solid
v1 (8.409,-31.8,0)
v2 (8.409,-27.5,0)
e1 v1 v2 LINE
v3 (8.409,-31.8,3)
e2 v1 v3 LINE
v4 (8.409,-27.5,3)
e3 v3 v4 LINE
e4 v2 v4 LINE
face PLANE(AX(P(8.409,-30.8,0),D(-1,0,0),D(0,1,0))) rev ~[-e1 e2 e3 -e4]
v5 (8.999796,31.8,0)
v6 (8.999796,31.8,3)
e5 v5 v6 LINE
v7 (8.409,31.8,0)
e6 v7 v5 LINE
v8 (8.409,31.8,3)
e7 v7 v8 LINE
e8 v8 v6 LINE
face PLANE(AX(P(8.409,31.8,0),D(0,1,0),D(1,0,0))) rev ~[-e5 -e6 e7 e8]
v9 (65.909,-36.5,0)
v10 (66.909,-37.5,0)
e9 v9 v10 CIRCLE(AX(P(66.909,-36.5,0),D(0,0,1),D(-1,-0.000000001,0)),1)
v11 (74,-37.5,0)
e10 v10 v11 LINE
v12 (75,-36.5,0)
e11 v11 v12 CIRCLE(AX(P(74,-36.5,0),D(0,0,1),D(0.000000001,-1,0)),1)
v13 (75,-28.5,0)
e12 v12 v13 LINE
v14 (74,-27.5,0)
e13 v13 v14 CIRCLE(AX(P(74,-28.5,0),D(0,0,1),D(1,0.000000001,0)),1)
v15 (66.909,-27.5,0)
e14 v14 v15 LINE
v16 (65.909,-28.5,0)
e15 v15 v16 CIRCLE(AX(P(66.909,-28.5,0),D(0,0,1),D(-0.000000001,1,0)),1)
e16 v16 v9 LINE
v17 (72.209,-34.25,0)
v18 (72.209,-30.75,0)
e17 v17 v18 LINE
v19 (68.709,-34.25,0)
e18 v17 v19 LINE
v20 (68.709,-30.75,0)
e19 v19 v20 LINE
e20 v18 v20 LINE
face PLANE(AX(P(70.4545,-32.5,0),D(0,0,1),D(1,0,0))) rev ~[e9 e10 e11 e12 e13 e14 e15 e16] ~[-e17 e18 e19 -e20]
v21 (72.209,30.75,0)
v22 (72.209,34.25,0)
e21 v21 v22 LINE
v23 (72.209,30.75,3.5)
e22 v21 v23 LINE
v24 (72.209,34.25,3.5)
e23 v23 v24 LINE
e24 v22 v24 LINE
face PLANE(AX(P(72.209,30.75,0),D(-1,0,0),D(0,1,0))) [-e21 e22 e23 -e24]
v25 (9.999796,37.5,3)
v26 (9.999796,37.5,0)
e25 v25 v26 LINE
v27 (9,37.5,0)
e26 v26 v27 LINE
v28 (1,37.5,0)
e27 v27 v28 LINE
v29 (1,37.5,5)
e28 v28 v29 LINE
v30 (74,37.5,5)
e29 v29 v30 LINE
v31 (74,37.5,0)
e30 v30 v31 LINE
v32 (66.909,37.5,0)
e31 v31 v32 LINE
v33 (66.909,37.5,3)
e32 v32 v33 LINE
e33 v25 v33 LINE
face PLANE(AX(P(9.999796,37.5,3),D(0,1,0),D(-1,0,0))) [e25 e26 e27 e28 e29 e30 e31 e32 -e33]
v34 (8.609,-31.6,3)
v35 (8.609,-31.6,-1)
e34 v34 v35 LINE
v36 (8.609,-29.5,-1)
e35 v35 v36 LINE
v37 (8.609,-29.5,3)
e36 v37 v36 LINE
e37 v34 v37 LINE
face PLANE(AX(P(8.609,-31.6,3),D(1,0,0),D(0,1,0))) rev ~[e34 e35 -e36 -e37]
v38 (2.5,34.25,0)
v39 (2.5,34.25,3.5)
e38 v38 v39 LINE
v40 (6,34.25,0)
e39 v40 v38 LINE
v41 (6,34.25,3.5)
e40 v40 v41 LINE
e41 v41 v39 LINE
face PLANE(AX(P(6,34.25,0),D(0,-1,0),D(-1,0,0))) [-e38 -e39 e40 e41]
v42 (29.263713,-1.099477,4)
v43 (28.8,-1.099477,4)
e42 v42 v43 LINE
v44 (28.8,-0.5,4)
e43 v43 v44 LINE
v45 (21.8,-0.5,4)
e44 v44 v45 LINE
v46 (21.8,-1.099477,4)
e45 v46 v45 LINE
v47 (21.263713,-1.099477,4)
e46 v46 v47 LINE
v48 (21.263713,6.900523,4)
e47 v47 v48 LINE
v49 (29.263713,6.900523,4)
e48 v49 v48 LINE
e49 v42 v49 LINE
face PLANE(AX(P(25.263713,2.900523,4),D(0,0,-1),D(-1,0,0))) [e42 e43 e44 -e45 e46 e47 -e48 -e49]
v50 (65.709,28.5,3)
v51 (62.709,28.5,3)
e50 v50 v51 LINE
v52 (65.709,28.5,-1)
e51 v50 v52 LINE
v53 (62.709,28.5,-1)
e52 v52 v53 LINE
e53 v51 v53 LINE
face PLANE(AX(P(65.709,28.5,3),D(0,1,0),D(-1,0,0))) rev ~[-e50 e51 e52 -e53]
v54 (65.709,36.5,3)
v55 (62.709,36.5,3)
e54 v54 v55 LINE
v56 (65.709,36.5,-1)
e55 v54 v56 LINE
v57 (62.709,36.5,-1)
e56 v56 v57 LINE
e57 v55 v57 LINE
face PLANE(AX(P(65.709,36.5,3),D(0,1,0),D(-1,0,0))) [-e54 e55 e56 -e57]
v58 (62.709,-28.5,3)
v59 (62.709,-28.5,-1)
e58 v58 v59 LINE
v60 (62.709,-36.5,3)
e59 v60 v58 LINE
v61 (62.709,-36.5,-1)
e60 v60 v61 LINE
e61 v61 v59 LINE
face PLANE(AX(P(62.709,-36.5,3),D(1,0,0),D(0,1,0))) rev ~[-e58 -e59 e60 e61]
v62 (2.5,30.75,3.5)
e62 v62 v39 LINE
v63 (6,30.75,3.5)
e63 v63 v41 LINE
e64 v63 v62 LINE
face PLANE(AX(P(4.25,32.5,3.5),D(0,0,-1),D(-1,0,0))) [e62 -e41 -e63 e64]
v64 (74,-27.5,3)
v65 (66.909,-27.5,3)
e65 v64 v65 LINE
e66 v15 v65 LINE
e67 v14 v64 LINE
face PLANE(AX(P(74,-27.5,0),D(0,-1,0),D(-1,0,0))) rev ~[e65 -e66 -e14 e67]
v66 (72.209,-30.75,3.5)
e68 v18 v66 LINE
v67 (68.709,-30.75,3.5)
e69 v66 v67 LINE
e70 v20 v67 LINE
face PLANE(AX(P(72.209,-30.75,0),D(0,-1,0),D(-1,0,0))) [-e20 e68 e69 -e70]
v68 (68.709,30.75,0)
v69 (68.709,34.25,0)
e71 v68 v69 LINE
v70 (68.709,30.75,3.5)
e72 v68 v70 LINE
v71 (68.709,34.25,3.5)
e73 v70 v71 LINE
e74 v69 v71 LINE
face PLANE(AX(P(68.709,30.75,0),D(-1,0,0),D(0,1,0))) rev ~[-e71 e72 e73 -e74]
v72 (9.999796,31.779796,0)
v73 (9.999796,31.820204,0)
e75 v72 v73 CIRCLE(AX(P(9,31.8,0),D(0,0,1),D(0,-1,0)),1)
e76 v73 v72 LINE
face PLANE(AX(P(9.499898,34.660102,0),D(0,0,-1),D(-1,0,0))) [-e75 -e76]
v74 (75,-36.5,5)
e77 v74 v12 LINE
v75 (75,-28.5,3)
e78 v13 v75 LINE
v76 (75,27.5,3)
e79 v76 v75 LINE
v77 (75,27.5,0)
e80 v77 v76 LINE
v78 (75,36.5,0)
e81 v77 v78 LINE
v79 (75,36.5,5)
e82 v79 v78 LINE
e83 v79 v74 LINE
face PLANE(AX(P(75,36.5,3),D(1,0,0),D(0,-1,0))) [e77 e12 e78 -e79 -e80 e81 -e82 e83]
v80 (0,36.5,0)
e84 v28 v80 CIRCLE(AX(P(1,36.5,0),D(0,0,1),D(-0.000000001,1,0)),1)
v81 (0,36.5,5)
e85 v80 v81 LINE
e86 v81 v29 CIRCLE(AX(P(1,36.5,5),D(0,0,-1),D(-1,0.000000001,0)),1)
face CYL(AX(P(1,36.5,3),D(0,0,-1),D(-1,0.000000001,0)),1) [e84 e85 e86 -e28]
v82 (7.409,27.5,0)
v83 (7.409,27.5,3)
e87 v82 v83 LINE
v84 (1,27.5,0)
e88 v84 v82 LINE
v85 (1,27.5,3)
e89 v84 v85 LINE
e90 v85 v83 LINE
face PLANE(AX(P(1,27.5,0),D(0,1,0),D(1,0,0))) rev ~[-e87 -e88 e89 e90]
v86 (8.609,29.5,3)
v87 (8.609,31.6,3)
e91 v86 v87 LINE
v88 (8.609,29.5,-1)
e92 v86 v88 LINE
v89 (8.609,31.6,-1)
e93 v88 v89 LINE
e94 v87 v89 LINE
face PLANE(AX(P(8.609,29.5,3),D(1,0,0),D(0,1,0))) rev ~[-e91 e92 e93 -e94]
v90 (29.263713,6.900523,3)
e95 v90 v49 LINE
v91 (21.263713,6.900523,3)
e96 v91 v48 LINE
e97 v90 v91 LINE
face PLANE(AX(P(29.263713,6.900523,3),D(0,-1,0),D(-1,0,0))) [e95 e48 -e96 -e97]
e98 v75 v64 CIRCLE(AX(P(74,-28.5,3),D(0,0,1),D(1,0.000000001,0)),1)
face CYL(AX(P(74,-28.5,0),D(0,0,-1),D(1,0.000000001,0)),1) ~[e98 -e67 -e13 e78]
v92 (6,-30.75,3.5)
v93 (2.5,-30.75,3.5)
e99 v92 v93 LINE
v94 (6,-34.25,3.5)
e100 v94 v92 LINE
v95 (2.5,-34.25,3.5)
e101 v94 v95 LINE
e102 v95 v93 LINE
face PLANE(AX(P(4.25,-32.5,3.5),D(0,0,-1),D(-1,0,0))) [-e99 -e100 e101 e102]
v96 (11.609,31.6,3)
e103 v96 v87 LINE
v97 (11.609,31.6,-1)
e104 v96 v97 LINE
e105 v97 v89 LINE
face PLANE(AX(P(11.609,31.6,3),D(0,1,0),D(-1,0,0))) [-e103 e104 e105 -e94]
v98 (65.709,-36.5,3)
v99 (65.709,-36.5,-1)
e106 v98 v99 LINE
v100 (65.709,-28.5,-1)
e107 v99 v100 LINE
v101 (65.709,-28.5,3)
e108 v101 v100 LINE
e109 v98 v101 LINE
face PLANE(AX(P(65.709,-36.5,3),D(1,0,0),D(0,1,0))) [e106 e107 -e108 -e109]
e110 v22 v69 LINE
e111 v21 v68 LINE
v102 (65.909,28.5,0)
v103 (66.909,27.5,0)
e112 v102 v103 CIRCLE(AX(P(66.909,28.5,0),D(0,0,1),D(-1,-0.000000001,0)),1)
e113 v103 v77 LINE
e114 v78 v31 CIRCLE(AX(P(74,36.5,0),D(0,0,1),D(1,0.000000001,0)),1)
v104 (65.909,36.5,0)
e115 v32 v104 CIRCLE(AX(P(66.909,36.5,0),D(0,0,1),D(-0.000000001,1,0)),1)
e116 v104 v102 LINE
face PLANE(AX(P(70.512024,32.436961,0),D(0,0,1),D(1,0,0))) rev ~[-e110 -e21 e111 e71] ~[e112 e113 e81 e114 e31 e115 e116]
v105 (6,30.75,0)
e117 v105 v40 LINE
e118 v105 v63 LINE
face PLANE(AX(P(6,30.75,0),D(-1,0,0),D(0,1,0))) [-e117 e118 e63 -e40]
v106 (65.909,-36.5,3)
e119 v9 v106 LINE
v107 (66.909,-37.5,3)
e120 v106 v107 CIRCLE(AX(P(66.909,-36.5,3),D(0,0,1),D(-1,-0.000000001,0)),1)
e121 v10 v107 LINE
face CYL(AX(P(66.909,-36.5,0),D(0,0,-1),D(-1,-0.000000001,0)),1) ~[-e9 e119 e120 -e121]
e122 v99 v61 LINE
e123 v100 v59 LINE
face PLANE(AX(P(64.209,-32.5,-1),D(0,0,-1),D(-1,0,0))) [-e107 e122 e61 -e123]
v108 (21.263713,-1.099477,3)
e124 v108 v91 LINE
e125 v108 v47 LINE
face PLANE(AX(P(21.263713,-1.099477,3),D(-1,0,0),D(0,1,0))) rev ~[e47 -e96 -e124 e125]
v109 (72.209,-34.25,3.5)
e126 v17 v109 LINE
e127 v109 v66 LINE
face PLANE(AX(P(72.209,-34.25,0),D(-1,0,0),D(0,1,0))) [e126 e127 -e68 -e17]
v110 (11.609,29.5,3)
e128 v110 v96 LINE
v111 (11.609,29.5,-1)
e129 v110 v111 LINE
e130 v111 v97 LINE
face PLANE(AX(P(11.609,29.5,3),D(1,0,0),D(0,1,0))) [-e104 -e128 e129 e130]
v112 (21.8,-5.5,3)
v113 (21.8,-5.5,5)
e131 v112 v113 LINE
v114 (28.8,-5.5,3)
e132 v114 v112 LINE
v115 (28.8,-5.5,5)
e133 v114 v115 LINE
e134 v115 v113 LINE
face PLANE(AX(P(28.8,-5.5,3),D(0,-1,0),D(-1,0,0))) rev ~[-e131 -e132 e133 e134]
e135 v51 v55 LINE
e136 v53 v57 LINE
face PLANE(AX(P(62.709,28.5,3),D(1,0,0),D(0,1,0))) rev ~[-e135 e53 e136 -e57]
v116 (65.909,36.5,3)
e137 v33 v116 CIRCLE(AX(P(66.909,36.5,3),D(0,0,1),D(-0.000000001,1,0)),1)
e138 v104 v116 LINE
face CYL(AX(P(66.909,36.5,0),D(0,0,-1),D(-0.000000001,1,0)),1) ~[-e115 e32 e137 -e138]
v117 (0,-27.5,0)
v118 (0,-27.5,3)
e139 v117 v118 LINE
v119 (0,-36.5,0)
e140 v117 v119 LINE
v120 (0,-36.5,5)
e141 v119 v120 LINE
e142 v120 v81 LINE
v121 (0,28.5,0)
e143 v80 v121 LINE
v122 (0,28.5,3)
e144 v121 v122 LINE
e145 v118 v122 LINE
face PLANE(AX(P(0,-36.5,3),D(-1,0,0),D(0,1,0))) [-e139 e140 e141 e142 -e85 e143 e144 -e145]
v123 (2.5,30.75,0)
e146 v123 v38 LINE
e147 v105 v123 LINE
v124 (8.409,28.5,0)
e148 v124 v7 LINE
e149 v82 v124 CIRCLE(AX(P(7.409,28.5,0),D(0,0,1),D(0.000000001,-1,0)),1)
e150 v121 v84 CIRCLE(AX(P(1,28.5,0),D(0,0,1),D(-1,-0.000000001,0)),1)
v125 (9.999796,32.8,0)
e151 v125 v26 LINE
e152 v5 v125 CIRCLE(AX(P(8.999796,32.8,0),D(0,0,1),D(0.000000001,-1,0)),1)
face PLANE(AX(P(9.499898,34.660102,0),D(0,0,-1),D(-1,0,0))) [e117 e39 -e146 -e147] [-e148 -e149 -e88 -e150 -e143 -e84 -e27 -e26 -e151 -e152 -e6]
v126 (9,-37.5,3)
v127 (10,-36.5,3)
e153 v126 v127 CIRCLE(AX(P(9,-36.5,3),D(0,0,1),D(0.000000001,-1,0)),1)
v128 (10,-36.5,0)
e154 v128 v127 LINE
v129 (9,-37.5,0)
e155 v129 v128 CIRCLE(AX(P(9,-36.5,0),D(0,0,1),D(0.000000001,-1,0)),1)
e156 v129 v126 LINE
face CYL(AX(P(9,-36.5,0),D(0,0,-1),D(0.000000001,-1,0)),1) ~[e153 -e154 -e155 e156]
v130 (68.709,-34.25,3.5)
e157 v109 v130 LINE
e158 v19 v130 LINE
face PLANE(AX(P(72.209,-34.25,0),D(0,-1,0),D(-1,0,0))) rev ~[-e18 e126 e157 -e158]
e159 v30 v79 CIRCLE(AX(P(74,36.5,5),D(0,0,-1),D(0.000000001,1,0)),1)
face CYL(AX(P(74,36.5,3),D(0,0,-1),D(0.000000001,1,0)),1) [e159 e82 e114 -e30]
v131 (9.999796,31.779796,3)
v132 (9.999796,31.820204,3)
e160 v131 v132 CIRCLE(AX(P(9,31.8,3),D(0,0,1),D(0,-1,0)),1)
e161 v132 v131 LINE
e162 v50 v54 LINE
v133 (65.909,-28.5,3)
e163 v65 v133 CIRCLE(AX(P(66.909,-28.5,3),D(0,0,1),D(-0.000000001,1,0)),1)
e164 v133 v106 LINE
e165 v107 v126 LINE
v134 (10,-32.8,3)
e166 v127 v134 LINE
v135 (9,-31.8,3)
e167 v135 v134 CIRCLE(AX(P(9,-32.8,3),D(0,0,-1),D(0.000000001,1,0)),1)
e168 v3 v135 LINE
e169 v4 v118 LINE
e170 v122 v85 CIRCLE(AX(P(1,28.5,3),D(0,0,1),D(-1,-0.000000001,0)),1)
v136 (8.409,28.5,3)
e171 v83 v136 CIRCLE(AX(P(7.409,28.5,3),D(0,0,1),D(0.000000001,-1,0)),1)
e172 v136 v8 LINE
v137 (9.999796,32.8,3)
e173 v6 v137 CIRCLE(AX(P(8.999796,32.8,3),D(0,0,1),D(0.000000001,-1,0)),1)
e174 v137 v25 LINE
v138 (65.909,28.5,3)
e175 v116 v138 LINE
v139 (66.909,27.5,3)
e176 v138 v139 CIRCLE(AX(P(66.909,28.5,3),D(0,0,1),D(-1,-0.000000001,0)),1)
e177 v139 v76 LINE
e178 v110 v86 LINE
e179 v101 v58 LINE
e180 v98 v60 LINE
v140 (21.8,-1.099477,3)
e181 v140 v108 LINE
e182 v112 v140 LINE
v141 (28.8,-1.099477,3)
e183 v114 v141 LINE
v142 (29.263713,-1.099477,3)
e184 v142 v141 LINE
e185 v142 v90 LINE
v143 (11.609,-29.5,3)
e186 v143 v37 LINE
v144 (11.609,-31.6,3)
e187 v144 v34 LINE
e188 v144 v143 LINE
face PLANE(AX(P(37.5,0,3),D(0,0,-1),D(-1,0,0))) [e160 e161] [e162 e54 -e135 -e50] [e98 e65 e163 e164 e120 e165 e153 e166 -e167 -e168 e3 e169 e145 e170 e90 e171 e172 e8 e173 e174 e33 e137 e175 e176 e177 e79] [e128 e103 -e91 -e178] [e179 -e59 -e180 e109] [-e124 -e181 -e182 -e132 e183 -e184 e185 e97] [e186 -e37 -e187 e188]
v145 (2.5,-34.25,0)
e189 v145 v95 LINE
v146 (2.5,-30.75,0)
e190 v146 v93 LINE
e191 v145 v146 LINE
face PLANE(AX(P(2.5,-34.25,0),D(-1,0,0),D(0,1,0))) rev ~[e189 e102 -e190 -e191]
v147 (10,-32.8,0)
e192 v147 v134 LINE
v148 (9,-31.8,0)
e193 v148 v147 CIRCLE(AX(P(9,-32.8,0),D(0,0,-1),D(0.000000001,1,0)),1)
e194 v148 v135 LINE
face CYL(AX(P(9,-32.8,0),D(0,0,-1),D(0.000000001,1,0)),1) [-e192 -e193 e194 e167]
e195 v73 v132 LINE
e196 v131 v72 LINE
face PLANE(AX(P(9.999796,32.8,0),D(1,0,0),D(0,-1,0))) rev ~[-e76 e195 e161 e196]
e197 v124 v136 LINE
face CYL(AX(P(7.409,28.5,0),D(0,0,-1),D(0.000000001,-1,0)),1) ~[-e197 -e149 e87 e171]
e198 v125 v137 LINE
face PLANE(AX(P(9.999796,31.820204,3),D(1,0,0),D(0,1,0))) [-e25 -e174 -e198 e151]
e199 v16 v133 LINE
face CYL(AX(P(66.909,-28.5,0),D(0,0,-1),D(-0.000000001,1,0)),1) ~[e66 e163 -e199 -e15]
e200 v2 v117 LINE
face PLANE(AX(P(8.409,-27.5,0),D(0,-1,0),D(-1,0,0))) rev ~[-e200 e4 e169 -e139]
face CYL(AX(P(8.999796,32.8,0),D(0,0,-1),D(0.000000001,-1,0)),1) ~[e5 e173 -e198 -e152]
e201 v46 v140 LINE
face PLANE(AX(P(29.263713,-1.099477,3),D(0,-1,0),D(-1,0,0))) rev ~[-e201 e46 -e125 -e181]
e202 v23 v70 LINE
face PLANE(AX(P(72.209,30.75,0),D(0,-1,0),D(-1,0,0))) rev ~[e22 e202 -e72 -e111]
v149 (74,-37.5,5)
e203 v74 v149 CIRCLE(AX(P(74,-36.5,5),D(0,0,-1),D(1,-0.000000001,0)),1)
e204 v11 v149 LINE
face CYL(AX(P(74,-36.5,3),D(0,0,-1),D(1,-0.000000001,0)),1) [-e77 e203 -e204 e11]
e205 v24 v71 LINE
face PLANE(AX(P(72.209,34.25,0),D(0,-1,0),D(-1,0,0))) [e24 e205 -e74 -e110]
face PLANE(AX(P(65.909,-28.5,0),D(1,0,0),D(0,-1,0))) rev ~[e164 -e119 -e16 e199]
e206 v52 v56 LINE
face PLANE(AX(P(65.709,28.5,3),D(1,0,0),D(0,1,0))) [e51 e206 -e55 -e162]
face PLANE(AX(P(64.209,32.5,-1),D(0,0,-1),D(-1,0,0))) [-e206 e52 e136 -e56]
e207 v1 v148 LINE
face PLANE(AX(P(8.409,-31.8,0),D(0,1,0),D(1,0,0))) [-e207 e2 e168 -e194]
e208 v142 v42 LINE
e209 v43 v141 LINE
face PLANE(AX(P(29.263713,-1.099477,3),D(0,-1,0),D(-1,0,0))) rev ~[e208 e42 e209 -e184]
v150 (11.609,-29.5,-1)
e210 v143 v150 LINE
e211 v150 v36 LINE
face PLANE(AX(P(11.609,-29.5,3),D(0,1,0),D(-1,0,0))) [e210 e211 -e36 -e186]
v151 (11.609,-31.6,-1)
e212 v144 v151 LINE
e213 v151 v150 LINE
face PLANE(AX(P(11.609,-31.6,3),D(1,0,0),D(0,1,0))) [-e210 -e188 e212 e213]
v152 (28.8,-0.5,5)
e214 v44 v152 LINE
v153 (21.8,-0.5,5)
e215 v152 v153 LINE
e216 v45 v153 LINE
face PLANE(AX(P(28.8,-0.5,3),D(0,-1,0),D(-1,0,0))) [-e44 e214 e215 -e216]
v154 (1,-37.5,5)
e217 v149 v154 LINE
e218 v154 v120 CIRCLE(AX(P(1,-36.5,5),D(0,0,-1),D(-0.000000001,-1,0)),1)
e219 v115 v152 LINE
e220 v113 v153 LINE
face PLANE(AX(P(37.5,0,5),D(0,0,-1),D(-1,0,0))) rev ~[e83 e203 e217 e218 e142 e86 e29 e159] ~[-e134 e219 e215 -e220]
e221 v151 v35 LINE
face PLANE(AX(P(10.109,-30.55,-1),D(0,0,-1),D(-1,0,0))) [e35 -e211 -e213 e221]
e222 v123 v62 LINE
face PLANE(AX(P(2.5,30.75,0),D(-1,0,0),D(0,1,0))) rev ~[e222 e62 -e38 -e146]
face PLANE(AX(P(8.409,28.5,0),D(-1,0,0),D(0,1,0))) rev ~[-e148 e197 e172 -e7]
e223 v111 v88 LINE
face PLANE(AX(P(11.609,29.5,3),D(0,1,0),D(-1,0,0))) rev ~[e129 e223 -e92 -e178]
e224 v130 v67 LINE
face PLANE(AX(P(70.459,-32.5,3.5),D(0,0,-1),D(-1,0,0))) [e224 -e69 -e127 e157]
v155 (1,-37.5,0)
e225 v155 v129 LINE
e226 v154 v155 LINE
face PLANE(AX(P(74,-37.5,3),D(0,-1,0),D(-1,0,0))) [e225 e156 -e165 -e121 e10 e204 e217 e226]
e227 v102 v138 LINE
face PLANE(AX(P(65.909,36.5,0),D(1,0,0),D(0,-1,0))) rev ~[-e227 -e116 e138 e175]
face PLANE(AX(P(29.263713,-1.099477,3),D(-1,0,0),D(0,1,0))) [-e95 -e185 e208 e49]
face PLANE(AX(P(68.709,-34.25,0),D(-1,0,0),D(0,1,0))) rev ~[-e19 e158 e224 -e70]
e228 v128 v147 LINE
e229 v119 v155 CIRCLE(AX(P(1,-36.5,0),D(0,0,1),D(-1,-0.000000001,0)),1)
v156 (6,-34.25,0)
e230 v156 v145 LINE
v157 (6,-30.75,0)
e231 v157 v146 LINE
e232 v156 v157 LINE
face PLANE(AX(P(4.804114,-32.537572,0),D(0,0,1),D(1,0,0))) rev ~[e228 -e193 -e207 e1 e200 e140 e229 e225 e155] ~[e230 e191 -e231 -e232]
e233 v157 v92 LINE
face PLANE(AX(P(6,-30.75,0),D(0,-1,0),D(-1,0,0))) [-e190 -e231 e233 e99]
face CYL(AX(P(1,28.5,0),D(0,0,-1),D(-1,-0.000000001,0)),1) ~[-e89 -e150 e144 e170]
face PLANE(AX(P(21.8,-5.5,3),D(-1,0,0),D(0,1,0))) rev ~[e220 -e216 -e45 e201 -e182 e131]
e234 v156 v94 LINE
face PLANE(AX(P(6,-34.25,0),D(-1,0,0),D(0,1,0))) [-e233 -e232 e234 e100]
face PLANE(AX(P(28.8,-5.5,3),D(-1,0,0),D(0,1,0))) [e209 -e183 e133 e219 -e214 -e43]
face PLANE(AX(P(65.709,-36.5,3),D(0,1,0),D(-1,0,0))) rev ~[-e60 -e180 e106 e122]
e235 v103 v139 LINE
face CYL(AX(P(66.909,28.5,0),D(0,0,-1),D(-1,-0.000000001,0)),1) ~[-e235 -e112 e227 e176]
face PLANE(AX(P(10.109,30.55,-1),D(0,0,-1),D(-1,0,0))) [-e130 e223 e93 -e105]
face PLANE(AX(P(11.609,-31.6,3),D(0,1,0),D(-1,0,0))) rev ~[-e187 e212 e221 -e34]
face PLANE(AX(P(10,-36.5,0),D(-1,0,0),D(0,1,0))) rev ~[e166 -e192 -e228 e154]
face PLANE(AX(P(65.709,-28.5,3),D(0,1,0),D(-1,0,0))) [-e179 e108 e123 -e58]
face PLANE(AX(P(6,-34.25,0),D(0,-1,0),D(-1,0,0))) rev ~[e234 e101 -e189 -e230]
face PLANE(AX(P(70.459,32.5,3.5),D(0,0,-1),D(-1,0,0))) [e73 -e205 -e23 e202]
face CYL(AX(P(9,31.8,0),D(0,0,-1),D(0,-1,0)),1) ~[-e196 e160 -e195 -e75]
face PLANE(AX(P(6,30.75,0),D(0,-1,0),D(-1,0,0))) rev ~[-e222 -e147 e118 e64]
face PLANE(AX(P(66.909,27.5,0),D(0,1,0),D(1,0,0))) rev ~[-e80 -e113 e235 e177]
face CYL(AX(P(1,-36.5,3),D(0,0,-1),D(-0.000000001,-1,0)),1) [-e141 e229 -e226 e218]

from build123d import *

# Parameters (mm, degrees)
RESSALTO_EXTRUS_O1_DEPTH   = 3
RESSALTO_EXTRUS_O1_2_DEPTH = 3
RESSALTO_EXTRUS_O1_3_DEPTH = 3
RESSALTO_EXTRUS_O1_4_DEPTH = 3
RESSALTO_EXTRUS_O2_DEPTH   = 2
ESBO_O13_W                 = 0.999795876
ESBO_O13_H                 = 5.679795897
RESSALTO_EXTRUS_O3_DEPTH   = 3
CORTE_EXTRUS_O4_DEPTH      = 3
ESBO_O22_W                 = 3
ESBO_O22_H                 = 2.1
ESBO_O22_H_2               = 8
RESSALTO_EXTRUS_O5_DEPTH   = 4
ESBO_O15_W                 = 3.5
ESBO_O15_H                 = 3.5
CORTE_EXTRUS_O1_DEPTH      = 3.5
ESBO_O16_W                 = 8
ESBO_O16_H                 = 8
CORTE_EXTRUS_O2_DEPTH      = 1
ESBO_O18_W                 = 7
ESBO_O18_H                 = 5
CORTE_EXTRUS_O3_DEPTH      = 10


with BuildPart() as part:
    # Esboço1 → Ressalto-extrusão1 (new body)
    with BuildSketch(Plane.XY):
        with BuildLine():
            Line((10, -36.5), (10, -31.8))
            ThreePointArc((10, -31.8), (9.707106781, -31.092893219), (9, -30.8))
            Line((9, -30.8), (8.409000397, -30.8))
            Line((8.409000397, -30.8), (8.409000397, -27.5))
            Line((8.409000397, -27.5), (0, -27.5))
            Line((0, -27.5), (0, -36.5))
            ThreePointArc((0, -36.5), (0.292893219, -37.207106781), (1, -37.5))
            Line((1, -37.5), (9, -37.5))
            ThreePointArc((9, -37.5), (9.707106781, -37.207106781), (10, -36.5))
        make_face()
    extrude(amount=RESSALTO_EXTRUS_O1_DEPTH)



with BuildPart() as body_2:
    # Esboço1 → Ressalto-extrus_o1 2 (new body)
    with BuildSketch(Plane.XY):
        with BuildLine():
            Line((75, -36.5), (75, -28.5))
            ThreePointArc((75, -28.5), (74.707106781, -27.792893219), (74, -27.5))
            Line((74, -27.5), (66.909000397, -27.5))
            ThreePointArc((66.909000397, -27.5), (66.201893616, -27.792893219), (65.909000397, -28.5))
            Line((65.909000397, -28.5), (65.909000397, -36.5))
            ThreePointArc((65.909000397, -36.5), (66.201893616, -37.207106781), (66.909000397, -37.5))
            Line((66.909000397, -37.5), (74, -37.5))
            ThreePointArc((74, -37.5), (74.707106781, -37.207106781), (75, -36.5))
        make_face()
    extrude(amount=RESSALTO_EXTRUS_O1_2_DEPTH)


with BuildPart() as body_3:
    # Esboço1 → Ressalto-extrus_o1 3 (new body)
    with BuildSketch(Plane.XY):
        with BuildLine():
            Line((65.909000397, 36.5), (65.909000397, 28.5))
            ThreePointArc((65.909000397, 28.5), (66.201893616, 27.792893219), (66.909000397, 27.5))
            Line((66.909000397, 27.5), (75, 27.5))
            Line((75, 27.5), (75, 36.5))
            ThreePointArc((75, 36.5), (74.707106781, 37.207106781), (74, 37.5))
            Line((74, 37.5), (66.909000397, 37.5))
            ThreePointArc((66.909000397, 37.5), (66.201893616, 37.207106781), (65.909000397, 36.5))
        make_face()
    extrude(amount=RESSALTO_EXTRUS_O1_3_DEPTH)


with BuildPart() as body_4:
    # Esboço1 → Ressalto-extrus_o1 4 (new body)
    with BuildSketch(Plane.XY):
        with BuildLine():
            Line((9, 37.5), (1, 37.5))
            ThreePointArc((1, 37.5), (0.292893219, 37.207106781), (0, 36.5))
            Line((0, 36.5), (0, 28.5))
            ThreePointArc((0, 28.5), (0.292893219, 27.792893219), (1, 27.5))
            Line((1, 27.5), (7.409000397, 27.5))
            ThreePointArc((7.409000397, 27.5), (8.116107178, 27.792893219), (8.409000397, 28.5))
            Line((8.409000397, 28.5), (8.409000397, 30.8))
            Line((8.409000397, 30.8), (9, 30.8))
            ThreePointArc((9, 30.8), (9.71421429, 31.100072898), (9.999795876, 31.820204103))
            Line((9.999795876, 31.820204103), (9, 31.820204103))
            Line((9, 31.820204103), (9, 37.5))
        make_face()
    extrude(amount=RESSALTO_EXTRUS_O1_4_DEPTH)


with BuildPart() as part_1:
    add(part.part)

    add(body_2.part)  # Ressalto-extrusão2 merges body 2

    add(body_3.part)  # Ressalto-extrusão2 merges body 3

    add(body_4.part)  # Ressalto-extrusão2 merges body 4
    # Esboço2 → Ressalto-extrusão2 (add)
    with BuildSketch(Plane.XY.offset(3)):
        with BuildLine():
            Line((1, 37.5), (74, 37.5))
            ThreePointArc((74, 37.5), (74.707106781, 37.207106781), (75, 36.5))
            Line((75, 36.5), (75, -36.5))
            ThreePointArc((75, -36.5), (74.707106781, -37.207106781), (74, -37.5))
            Line((74, -37.5), (1, -37.5))
            ThreePointArc((1, -37.5), (0.292893219, -37.207106781), (0, -36.5))
            Line((0, -36.5), (0, 36.5))
            ThreePointArc((0, 36.5), (0.292893219, 37.207106781), (1, 37.5))
        make_face()
    extrude(amount=RESSALTO_EXTRUS_O2_DEPTH)

    # Esboço13 → Ressalto-extrusão3 (add)
    with BuildSketch(Plane(origin=(0, 0, 3), x_dir=(-1, 0, 0), z_dir=(0, 0, -1))):
        with Locations((-9.499897938, 34.660102052)):
            Rectangle(ESBO_O13_W, ESBO_O13_H)
    extrude(amount=RESSALTO_EXTRUS_O3_DEPTH)

    # Esboço20 → Corte-extrusão4 (cut)
    with BuildSketch(Plane(origin=(0, 0, 0), x_dir=(-1, 0, 0), z_dir=(0, 0, -1))):
        with BuildLine():
            Line((-8.409000397, 31.8), (-8.999795876, 31.8))
            ThreePointArc((-8.999795876, 31.8), (-9.706902657, 32.092893219), (-9.999795876, 32.8))
            Line((-9.999795876, 32.8), (-9.999795876, 30.8))
            Line((-9.999795876, 30.8), (-8.409000397, 30.8))
            Line((-8.409000397, 30.8), (-8.409000397, 31.8))
        make_face()
        with BuildLine():
            Line((-8.409000397, -30.8), (-8.409000397, -31.8))
            Line((-8.409000397, -31.8), (-9, -31.8))
            ThreePointArc((-9, -31.8), (-9.707106781, -32.092893219), (-10, -32.8))
            Line((-10, -32.8), (-10, -30.8))
            Line((-10, -30.8), (-8.409000397, -30.8))
        make_face()
    extrude(amount=-CORTE_EXTRUS_O4_DEPTH, mode=Mode.SUBTRACT)

    # Esboço22 → Ressalto-extrusão5 (add)
    with BuildSketch(Plane(origin=(0, 0, 3), x_dir=(-1, 0, 0), z_dir=(0, 0, -1))):
        with Locations((-10.109000397, 30.55)):
            Rectangle(ESBO_O22_W, ESBO_O22_H)
        with Locations((-10.109000397, -30.55)):
            Rectangle(ESBO_O22_W, ESBO_O22_H)
        with Locations((-64.209000397, 32.5)):
            Rectangle(ESBO_O22_W, ESBO_O22_H_2)
        with Locations((-64.209000397, -32.5)):
            Rectangle(ESBO_O22_W, ESBO_O22_H_2)
    extrude(amount=RESSALTO_EXTRUS_O5_DEPTH)

    # Esboço15 → Corte-extrusão1 (cut)
    with BuildSketch(Plane(origin=(0, 0, 0), x_dir=(-1, 0, 0), z_dir=(0, 0, -1))):
        with Locations((-4.25, -32.5)):
            Rectangle(ESBO_O15_W, ESBO_O15_H)
        with Locations((-4.25, 32.5)):
            Rectangle(ESBO_O15_W, ESBO_O15_H)
        with Locations((-70.459000397, 32.5)):
            Rectangle(ESBO_O15_W, ESBO_O15_H)
        with Locations((-70.459000397, -32.5)):
            Rectangle(ESBO_O15_W, ESBO_O15_H)
    extrude(amount=-CORTE_EXTRUS_O1_DEPTH, mode=Mode.SUBTRACT)

    # Esboço16 → Corte-extrusão2 (cut)
    with BuildSketch(Plane(origin=(0, 0, 3), x_dir=(-1, 0, 0), z_dir=(0, 0, -1))):
        with Locations((-25.263712601, 2.900523079)):
            Rectangle(ESBO_O16_W, ESBO_O16_H)
    extrude(amount=-CORTE_EXTRUS_O2_DEPTH, mode=Mode.SUBTRACT)

    # Esboço18 → Corte-extrusão3 (cut)
    with BuildSketch(Plane(origin=(0, 0, 3), x_dir=(-1, 0, 0), z_dir=(0, 0, -1))):
        with Locations((-25.3, -3)):
            Rectangle(ESBO_O18_W, ESBO_O18_H)
    extrude(amount=-CORTE_EXTRUS_O3_DEPTH, mode=Mode.SUBTRACT)


solid = part_1.part
